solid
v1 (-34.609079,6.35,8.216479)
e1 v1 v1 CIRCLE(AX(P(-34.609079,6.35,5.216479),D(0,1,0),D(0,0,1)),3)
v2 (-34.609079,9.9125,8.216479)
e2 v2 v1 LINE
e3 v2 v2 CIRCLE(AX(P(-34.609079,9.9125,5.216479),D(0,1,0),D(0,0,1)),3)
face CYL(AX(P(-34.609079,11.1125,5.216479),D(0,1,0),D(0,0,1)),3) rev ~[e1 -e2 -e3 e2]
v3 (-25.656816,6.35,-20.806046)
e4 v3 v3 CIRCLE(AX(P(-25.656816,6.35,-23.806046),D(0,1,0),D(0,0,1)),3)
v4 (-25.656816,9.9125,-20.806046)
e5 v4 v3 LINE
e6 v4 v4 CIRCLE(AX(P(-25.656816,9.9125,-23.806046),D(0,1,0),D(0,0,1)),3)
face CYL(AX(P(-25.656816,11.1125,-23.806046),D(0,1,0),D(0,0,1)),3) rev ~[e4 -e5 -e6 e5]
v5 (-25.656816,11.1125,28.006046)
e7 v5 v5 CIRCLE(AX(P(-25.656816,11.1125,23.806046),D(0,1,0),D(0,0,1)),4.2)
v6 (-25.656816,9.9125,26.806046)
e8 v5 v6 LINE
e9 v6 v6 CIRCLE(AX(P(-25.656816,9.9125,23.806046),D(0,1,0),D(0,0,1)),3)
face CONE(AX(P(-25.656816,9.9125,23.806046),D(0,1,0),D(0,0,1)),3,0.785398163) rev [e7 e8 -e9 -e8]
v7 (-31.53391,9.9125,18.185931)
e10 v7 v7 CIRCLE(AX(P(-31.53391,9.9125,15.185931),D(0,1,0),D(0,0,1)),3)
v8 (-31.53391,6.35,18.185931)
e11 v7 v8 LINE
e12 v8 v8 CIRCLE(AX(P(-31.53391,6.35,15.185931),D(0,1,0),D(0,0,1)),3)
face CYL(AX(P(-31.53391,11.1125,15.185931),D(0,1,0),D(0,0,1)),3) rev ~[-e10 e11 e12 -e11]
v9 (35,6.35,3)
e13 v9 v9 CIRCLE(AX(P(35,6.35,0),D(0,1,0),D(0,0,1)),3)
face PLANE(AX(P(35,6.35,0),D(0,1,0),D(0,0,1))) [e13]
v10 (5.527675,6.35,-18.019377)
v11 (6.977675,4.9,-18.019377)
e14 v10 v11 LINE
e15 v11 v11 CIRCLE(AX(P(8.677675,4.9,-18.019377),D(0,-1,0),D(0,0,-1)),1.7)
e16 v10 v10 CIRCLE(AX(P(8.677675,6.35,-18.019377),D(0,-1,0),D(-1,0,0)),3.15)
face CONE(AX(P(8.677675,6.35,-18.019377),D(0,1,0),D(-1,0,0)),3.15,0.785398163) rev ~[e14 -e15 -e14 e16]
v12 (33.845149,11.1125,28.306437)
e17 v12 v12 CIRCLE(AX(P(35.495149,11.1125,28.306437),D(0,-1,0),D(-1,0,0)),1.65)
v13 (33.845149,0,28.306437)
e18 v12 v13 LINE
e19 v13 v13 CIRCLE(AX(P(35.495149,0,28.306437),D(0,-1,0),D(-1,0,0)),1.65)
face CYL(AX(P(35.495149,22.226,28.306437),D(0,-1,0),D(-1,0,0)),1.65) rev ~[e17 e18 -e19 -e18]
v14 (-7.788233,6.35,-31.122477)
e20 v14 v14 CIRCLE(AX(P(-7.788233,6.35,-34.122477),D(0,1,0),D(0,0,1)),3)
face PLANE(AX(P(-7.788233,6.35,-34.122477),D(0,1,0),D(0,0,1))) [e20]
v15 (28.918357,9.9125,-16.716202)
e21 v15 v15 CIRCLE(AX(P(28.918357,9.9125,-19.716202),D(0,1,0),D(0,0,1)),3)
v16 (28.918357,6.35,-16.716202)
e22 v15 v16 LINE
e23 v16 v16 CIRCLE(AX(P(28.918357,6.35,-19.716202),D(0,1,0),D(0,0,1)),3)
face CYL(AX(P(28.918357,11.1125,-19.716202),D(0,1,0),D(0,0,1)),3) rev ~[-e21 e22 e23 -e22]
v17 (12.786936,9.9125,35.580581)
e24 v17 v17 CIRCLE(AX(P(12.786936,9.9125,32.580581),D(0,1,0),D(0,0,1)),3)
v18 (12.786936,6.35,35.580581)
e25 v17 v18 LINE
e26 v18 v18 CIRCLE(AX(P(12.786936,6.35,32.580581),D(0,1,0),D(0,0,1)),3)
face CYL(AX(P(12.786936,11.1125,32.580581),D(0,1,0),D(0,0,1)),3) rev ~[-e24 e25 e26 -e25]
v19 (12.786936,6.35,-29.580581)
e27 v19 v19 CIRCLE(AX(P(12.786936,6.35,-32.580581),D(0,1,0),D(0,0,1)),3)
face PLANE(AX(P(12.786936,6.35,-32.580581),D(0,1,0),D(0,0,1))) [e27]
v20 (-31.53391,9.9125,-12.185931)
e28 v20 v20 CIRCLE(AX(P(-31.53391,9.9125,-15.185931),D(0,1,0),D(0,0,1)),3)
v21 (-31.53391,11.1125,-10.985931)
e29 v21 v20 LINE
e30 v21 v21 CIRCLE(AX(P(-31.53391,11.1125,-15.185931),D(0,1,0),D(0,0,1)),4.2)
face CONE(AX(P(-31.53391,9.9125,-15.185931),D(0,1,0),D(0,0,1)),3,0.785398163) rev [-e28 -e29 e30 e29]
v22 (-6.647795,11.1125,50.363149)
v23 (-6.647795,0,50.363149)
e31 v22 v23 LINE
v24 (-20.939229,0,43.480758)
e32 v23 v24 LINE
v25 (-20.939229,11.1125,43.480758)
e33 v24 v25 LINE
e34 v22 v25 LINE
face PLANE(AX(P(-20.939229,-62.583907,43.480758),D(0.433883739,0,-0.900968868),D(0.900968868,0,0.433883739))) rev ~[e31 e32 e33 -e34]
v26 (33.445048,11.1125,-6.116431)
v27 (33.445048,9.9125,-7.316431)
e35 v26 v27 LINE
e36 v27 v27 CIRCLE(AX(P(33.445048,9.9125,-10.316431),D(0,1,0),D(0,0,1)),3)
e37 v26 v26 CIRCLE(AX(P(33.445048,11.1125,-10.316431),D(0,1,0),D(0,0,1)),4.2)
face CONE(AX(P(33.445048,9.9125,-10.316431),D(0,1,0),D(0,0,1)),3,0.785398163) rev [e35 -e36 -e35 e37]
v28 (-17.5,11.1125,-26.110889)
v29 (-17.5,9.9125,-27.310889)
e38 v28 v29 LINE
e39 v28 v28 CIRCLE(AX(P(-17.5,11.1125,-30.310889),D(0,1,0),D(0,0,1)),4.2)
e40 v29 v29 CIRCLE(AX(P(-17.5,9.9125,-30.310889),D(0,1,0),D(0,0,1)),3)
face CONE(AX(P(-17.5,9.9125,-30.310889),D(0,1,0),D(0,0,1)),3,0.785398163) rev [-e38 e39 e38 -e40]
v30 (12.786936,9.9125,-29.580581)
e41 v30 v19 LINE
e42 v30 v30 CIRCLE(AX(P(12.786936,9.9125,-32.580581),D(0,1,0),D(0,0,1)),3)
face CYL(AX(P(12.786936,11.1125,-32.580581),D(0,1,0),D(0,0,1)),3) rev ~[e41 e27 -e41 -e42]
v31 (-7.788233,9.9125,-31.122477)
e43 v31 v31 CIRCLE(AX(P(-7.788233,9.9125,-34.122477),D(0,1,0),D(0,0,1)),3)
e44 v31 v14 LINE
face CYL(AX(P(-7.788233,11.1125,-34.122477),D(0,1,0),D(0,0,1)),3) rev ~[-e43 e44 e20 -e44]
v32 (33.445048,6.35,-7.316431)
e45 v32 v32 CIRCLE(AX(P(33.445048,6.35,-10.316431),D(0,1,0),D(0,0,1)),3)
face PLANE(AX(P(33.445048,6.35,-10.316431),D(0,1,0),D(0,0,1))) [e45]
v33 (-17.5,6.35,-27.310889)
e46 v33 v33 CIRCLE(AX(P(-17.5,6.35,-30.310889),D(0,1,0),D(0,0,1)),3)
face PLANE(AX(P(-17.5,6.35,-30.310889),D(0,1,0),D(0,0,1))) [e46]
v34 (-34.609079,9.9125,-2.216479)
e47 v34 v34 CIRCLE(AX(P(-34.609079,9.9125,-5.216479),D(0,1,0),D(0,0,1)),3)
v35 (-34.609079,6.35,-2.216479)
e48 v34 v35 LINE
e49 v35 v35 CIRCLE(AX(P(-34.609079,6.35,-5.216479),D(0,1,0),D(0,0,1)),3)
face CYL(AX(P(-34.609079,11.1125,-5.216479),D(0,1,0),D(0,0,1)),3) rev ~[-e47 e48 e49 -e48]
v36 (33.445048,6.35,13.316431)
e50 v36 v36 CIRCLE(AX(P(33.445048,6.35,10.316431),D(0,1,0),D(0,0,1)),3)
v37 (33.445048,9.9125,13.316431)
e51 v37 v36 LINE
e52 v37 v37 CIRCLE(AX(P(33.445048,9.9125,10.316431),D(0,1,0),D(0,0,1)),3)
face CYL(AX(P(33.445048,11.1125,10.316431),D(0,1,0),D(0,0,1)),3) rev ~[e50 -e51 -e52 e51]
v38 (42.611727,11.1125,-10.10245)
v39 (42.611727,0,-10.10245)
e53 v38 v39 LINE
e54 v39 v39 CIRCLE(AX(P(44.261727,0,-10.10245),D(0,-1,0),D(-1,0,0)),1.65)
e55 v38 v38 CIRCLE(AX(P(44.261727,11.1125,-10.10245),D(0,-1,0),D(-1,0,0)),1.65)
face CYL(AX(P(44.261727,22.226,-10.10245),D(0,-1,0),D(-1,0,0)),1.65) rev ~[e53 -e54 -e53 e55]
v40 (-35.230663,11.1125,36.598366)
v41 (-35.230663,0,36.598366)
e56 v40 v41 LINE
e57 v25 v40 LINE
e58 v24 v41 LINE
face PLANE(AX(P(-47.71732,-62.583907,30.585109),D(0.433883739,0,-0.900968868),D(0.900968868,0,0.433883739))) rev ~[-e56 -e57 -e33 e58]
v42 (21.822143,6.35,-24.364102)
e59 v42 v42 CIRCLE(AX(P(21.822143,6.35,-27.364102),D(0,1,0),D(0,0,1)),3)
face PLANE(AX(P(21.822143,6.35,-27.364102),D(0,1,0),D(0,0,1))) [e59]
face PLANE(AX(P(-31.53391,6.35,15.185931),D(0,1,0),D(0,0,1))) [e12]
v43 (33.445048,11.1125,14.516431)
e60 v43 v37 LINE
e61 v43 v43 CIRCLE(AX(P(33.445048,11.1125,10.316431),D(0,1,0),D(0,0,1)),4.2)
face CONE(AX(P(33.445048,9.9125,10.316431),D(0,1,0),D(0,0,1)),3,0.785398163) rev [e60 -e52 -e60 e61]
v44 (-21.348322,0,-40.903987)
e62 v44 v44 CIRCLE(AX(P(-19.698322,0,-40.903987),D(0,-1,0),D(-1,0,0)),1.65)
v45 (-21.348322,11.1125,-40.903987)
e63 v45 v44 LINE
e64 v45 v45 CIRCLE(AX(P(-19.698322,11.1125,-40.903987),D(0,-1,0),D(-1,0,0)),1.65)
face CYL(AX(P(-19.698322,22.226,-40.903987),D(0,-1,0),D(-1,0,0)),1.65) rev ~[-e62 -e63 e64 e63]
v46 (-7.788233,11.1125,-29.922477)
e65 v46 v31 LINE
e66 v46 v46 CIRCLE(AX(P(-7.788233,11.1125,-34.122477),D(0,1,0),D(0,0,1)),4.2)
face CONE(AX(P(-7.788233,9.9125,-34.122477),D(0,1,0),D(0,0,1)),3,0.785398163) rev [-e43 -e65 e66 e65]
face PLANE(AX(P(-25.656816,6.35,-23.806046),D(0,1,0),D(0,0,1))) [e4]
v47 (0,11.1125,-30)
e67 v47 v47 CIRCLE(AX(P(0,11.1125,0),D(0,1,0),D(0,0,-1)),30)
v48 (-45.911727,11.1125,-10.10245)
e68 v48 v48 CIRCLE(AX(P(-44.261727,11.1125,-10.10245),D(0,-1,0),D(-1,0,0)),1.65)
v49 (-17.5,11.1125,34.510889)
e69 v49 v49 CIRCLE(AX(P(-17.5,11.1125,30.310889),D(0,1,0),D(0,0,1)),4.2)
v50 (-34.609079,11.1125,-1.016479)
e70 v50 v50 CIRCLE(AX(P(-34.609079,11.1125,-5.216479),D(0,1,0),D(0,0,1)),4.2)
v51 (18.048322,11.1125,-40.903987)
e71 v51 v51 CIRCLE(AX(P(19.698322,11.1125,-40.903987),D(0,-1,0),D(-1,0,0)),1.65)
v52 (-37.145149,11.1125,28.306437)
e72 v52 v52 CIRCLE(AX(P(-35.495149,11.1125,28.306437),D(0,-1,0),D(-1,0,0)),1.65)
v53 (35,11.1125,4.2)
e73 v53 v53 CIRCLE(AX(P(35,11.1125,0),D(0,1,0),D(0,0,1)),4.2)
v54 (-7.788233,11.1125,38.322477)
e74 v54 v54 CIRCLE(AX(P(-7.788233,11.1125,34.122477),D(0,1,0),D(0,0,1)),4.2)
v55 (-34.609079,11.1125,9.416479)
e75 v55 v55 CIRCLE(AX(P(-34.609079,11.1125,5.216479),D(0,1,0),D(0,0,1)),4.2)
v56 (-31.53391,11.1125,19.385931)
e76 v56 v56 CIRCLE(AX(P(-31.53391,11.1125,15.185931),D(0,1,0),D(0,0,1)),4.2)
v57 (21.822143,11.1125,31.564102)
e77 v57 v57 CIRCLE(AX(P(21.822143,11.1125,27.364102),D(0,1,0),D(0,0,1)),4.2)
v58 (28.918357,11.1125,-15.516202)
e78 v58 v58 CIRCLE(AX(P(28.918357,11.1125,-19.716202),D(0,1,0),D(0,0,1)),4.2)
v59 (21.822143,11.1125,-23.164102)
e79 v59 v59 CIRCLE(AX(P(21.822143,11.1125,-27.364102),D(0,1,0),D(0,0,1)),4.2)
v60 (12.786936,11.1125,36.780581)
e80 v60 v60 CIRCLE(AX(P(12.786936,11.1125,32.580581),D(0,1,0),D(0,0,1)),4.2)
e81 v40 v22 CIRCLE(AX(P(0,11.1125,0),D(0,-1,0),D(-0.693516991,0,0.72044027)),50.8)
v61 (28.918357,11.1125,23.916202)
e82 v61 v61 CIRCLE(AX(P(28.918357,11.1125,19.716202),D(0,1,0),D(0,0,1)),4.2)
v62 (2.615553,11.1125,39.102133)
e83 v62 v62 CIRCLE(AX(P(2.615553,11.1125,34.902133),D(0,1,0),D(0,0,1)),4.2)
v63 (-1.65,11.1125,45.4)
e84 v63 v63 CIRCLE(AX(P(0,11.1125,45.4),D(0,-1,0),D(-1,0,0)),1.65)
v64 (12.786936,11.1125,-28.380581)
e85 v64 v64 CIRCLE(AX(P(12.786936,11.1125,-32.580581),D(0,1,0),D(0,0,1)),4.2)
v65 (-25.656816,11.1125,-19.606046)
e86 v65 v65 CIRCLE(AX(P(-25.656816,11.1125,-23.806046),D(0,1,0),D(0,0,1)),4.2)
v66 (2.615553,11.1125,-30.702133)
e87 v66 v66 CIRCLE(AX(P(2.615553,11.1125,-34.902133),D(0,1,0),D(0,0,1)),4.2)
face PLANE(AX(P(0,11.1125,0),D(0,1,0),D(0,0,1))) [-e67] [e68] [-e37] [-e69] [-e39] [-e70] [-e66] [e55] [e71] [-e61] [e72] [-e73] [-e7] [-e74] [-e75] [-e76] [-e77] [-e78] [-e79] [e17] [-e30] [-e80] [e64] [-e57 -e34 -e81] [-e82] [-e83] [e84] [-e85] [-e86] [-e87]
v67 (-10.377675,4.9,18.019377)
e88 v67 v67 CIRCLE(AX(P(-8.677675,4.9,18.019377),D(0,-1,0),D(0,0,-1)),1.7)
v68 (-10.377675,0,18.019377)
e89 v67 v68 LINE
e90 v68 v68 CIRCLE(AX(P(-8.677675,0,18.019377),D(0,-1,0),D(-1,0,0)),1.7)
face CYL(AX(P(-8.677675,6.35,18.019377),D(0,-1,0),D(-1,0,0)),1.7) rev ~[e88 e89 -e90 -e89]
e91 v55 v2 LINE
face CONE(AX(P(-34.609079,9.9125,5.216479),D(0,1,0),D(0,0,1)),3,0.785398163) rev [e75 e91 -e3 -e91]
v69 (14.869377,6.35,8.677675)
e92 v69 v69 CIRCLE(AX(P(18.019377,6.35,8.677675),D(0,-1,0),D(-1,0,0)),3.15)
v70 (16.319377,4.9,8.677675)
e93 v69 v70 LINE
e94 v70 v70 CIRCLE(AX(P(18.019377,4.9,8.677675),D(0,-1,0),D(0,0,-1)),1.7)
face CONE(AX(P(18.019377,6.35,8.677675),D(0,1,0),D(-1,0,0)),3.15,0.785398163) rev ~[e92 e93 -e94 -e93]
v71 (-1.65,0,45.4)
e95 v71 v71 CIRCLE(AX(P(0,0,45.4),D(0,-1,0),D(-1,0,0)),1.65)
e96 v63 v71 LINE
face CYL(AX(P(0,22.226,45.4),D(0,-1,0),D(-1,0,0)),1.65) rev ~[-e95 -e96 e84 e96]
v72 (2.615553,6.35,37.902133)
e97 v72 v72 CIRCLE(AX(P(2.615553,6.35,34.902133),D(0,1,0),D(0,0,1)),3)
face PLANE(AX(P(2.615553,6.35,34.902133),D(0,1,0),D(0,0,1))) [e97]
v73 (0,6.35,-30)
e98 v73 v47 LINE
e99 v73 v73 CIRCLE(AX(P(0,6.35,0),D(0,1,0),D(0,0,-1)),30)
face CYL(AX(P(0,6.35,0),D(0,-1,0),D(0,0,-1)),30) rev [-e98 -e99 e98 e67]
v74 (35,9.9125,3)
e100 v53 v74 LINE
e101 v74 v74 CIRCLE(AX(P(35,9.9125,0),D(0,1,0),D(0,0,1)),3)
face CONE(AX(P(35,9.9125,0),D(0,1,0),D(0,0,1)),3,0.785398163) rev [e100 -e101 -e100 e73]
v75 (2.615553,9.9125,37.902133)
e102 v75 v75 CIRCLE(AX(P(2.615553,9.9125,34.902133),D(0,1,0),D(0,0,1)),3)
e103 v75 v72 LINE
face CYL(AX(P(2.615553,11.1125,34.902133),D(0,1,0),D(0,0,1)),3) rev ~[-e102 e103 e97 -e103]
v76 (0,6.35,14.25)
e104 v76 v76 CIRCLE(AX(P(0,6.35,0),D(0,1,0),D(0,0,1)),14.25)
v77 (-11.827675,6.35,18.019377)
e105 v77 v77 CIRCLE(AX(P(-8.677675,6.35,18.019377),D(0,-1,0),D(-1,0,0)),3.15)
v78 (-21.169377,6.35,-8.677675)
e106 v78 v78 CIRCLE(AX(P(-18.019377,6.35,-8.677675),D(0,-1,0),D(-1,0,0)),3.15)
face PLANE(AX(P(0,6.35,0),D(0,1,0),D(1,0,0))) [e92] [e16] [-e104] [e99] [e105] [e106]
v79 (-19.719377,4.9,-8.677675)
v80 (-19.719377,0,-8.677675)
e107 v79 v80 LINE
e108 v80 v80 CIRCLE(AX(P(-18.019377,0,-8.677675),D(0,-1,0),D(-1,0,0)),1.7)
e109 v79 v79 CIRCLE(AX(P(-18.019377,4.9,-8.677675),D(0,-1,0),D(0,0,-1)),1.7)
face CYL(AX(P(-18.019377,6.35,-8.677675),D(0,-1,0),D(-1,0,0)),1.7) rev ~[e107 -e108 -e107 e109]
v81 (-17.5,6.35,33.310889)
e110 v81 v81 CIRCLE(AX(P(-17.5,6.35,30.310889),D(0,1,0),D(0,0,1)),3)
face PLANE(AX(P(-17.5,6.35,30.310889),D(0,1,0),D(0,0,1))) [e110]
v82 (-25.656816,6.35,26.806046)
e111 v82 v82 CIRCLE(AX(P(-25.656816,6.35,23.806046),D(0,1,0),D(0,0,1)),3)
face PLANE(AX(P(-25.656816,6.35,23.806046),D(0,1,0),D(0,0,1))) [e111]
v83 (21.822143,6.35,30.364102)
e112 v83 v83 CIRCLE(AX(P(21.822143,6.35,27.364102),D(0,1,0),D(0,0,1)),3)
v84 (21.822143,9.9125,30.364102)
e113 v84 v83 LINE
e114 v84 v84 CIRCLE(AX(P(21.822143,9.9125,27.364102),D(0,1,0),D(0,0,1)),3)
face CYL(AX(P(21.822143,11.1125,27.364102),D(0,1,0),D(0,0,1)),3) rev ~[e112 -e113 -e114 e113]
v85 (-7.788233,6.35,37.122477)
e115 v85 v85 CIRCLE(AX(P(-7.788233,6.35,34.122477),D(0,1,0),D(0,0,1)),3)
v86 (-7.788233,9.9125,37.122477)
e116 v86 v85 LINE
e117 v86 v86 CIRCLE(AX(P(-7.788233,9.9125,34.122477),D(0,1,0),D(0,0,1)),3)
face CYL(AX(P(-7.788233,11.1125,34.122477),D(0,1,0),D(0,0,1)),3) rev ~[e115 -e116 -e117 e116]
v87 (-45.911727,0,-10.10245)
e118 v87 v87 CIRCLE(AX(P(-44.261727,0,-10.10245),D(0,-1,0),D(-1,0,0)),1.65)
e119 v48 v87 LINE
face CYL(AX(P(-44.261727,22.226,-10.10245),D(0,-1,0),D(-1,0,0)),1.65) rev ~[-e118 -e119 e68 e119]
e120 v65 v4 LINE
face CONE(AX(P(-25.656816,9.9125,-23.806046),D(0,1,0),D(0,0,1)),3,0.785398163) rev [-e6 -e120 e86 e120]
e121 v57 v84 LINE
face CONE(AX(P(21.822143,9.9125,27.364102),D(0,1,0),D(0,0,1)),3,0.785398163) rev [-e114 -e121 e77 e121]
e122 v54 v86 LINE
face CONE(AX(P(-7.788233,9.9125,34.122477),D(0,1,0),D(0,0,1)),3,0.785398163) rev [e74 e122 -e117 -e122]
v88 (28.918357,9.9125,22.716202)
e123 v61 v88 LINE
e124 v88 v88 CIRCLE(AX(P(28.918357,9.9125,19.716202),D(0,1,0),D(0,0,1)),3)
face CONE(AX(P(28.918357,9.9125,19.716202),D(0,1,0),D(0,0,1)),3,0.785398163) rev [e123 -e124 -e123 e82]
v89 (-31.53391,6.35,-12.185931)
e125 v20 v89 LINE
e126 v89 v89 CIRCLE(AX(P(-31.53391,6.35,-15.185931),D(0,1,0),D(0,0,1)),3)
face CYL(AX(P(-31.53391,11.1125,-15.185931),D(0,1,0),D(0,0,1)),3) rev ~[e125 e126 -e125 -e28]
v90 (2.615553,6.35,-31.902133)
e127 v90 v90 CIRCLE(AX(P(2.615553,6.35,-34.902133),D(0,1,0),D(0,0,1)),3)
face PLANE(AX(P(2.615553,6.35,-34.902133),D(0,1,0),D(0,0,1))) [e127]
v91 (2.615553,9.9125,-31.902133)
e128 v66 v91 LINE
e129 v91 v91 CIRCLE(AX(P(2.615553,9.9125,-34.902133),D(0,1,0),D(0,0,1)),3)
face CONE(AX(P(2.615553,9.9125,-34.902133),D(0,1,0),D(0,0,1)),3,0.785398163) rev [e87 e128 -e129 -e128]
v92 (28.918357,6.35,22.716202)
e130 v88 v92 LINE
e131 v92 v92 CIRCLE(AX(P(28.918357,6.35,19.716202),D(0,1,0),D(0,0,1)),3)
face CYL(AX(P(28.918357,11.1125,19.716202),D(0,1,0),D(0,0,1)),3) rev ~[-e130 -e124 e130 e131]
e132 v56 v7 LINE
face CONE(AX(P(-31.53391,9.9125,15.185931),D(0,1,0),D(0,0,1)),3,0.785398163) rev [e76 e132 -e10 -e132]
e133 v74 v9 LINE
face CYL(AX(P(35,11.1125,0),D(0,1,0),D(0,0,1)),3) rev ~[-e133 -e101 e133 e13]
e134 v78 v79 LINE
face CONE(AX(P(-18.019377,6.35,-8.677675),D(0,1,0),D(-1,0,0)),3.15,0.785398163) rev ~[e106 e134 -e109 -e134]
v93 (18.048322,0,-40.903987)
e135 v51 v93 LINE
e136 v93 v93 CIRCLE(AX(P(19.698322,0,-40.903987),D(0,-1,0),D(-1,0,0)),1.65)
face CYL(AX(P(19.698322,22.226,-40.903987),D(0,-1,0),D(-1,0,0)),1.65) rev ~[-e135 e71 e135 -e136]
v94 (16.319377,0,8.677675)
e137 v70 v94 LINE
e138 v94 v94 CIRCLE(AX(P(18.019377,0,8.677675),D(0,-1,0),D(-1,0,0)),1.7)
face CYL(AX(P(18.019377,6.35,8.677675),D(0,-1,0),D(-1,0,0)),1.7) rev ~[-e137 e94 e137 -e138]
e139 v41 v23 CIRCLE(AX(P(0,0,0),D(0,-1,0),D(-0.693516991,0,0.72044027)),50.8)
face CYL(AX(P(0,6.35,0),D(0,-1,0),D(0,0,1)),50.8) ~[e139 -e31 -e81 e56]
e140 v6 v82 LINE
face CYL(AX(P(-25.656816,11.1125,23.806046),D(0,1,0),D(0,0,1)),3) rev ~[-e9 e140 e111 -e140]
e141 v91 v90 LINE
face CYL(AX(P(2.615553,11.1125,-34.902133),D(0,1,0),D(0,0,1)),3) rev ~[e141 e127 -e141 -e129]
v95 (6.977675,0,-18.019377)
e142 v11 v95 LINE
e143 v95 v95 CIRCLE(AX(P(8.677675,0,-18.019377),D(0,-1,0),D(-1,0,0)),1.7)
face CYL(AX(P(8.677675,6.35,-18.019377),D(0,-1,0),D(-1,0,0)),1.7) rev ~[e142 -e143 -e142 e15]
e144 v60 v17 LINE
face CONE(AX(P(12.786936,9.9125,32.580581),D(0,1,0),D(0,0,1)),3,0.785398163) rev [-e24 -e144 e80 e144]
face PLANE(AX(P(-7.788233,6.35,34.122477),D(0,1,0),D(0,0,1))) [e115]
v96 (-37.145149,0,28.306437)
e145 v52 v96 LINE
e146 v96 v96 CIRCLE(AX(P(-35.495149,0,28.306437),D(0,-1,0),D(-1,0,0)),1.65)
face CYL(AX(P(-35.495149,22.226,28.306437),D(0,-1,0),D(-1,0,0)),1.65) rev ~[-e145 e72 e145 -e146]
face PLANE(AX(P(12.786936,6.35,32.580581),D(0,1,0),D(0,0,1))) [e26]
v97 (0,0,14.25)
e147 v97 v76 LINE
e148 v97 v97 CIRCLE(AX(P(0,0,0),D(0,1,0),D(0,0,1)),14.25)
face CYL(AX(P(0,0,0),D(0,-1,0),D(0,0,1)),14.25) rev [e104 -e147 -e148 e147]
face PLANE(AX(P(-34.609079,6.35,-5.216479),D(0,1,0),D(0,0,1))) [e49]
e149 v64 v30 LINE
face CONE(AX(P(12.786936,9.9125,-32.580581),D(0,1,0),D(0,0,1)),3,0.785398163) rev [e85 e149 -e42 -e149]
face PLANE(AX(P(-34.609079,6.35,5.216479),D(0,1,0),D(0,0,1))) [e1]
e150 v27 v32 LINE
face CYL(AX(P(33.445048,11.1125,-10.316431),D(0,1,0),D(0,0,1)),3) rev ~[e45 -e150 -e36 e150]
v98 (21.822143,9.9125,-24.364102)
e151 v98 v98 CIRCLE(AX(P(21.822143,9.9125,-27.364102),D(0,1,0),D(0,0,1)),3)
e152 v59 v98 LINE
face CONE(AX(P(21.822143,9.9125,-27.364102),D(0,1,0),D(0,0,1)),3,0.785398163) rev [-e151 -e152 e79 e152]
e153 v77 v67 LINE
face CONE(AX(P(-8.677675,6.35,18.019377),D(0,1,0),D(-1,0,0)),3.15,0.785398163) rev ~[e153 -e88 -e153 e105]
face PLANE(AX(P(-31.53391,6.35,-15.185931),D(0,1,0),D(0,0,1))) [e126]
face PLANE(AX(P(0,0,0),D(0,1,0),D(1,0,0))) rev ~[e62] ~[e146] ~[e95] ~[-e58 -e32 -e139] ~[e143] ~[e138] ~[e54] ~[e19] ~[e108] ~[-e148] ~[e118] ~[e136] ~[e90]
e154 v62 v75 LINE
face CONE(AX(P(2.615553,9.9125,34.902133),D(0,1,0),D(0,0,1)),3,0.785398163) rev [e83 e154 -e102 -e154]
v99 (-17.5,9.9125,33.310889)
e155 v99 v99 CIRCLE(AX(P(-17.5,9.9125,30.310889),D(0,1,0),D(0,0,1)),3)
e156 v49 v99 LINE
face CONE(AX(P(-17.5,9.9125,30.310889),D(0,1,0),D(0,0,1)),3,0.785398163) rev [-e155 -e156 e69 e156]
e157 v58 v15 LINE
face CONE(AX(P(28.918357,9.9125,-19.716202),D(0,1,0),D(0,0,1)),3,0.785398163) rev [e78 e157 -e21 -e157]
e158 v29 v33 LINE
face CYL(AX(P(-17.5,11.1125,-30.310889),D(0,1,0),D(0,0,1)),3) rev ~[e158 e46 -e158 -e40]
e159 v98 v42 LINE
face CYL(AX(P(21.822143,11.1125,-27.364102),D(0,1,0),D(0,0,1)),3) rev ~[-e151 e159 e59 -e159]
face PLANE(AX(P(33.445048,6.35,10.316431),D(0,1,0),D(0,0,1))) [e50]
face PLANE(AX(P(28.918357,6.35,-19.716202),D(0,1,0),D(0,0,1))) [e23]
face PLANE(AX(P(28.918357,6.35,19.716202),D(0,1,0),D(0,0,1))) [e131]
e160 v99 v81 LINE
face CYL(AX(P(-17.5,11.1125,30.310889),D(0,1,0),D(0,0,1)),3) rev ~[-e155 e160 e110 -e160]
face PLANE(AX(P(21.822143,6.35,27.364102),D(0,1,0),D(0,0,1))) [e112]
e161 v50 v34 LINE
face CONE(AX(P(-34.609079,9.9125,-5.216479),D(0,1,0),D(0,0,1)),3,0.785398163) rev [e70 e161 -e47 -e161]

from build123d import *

# Parameters (mm, degrees)
SKETCH1_R                                       = 50.8
SKETCH1_R_2                                     = 19.25
BOSS_EXTRUDE1_DEPTH                             = 6.35
SKETCH2_R                                       = 50.8
SKETCH2_R_2                                     = 30
BOSS_EXTRUDE2_DEPTH                             = 4.7625
SKETCH3_R                                       = 3
CUT_EXTRUDE1_DEPTH                              = 4.7625
CHAMFER1_SIZE                                   = 1.2
M4X0_7_TAPPED_HOLE1_D                           = 3.3
M4X0_7_TAPPED_HOLE1_DEPTH                       = 11.1135
BOSS_EXTRUDE3_START                             = -6.35
SKETCH13_R                                      = 19.25
SKETCH13_R_2                                    = 14.25
BOSS_EXTRUDE3_DEPTH                             = 6.35
CSK_FOR_M3_FLAT_HEAD_MACHINE_SCREW1_D           = 3.4
CSK_FOR_M3_FLAT_HEAD_MACHINE_SCREW1_CSINK_D     = 6.3
CSK_FOR_M3_FLAT_HEAD_MACHINE_SCREW1_CSINK_ANGLE = 90
CUT_EXTRUDE4_DEPTH                              = 73.696407451
CUT_EXTRUDE4_DEPTH_BACK                         = 73.696407451


with BuildPart() as part:
    # Sketch1 → Boss-Extrude1 (new body)
    with BuildSketch(Plane(origin=(0, 0, 0), x_dir=(1, 0, 0), z_dir=(0, 1, 0))):
        with Locations(Location((0, 0, 0), (0, 0, 270))):
            Circle(SKETCH1_R)
        with Locations(Location((0, 0, 0), (0, 0, 270))):
            Circle(SKETCH1_R_2, mode=Mode.SUBTRACT)
    extrude(amount=BOSS_EXTRUDE1_DEPTH)

    # Sketch2 → Boss-Extrude2 (add)
    with BuildSketch(Plane(origin=(0, 6.35, 0), x_dir=(1, 0, 0), z_dir=(0, 1, 0))):
        with Locations(Location((0, 0, 0), (0, 0, 270))):
            Circle(SKETCH2_R)
        with Locations(Location((0, 0, 0), (0, 0, 90))):
            Circle(SKETCH2_R_2, mode=Mode.SUBTRACT)
    extrude(amount=BOSS_EXTRUDE2_DEPTH)

    # Sketch3 → Cut-Extrude1 (cut)
    with BuildSketch(Plane(origin=(0, 11.1125, 0), x_dir=(1, 0, 0), z_dir=(0, 1, 0))):
        with Locations(Location((35, 0, 0), (0, 0, 270))):
            Circle(SKETCH3_R)
        with Locations(Location((33.445048203, -10.316431104, 0), (0, 0, 270))):
            Circle(SKETCH3_R)
        with Locations(Location((28.918357101, -19.716202032, 0), (0, 0, 270))):
            Circle(SKETCH3_R)
        with Locations(Location((21.822143065, -27.364101886, 0), (0, 0, 270))):
            Circle(SKETCH3_R)
        with Locations(Location((12.786935853, -32.580581203, 0), (0, 0, 270))):
            Circle(SKETCH3_R)
        with Locations(Location((2.615553276, -34.902132901, 0), (0, 0, 270))):
            Circle(SKETCH3_R)
        with Locations(Location((-7.788232688, -34.122476926, 0), (0, 0, 270))):
            Circle(SKETCH3_R)
        with Locations(Location((-17.5, -30.310889132, 0), (0, 0, 270))):
            Circle(SKETCH3_R)
        with Locations(Location((-25.656815514, -23.806045822, 0), (0, 0, 270))):
            Circle(SKETCH3_R)
        with Locations(Location((-31.533910377, -15.185930869, 0), (0, 0, 270))):
            Circle(SKETCH3_R)
        with Locations(Location((-34.609078918, -5.216479316, 0), (0, 0, 270))):
            Circle(SKETCH3_R)
        with Locations(Location((-34.609078918, 5.216479316, 0), (0, 0, 270))):
            Circle(SKETCH3_R)
        with Locations(Location((-31.533910377, 15.185930869, 0), (0, 0, 270))):
            Circle(SKETCH3_R)
        with Locations(Location((-25.656815514, 23.806045822, 0), (0, 0, 270))):
            Circle(SKETCH3_R)
        with Locations(Location((-17.5, 30.310889132, 0), (0, 0, 270))):
            Circle(SKETCH3_R)
        with Locations(Location((-7.788232688, 34.122476926, 0), (0, 0, 270))):
            Circle(SKETCH3_R)
        with Locations(Location((2.615553276, 34.902132901, 0), (0, 0, 270))):
            Circle(SKETCH3_R)
        with Locations(Location((12.786935853, 32.580581203, 0), (0, 0, 270))):
            Circle(SKETCH3_R)
        with Locations(Location((21.822143065, 27.364101886, 0), (0, 0, 270))):
            Circle(SKETCH3_R)
        with Locations(Location((28.918357101, 19.716202032, 0), (0, 0, 270))):
            Circle(SKETCH3_R)
        with Locations(Location((33.445048203, 10.316431104, 0), (0, 0, 270))):
            Circle(SKETCH3_R)
    extrude(amount=-CUT_EXTRUDE1_DEPTH, mode=Mode.SUBTRACT)

    # Chamfer1
    chamfer1_edges = [part.edges().sort_by_distance(p)[0] for p in [
        (2.615553276, 11.1125, 31.902132901),
        (12.786935853, 11.1125, 29.580581203),
        (21.822143065, 11.1125, 24.364101886),
        (28.918357101, 11.1125, 16.716202032),
        (33.445048203, 11.1125, 7.316431104),
        (35, 11.1125, -3),
        (33.445048203, 11.1125, -13.316431104),
        (28.918357101, 11.1125, -22.716202032),
        (21.822143065, 11.1125, -30.364101886),
        (12.786935853, 11.1125, -35.580581203),
        (2.615553276, 11.1125, -37.902132901),
        (-7.788232688, 11.1125, -37.122476926),
        (-17.5, 11.1125, -33.310889132),
        (-25.656815514, 11.1125, -26.806045822),
        (-31.533910377, 11.1125, -18.185930869),
        (-34.609078918, 11.1125, -8.216479316),
        (-7.788232688, 11.1125, 31.122476926),
        (-17.5, 11.1125, 27.310889132),
        (-25.656815514, 11.1125, 20.806045822),
        (-31.533910377, 11.1125, 12.185930869),
        (-34.609078918, 11.1125, 2.216479316),
    ]]
    chamfer(chamfer1_edges, length=CHAMFER1_SIZE)

    # M4x0.7 Tapped Hole1
    with Locations(Plane(origin=(0, 11.1125, 0), x_dir=(1, 0, 0), z_dir=(0, 1, 0))):
        with Locations((0, -45.4), (0, 0), (-19.698321756, 40.903986603), (19.698321756, 40.903986603), (44.261727213, 10.102450402), (35.495149304, -28.306437004), (-35.495149304, -28.306437004), (-44.261727213, 10.102450402)):
            Hole(M4X0_7_TAPPED_HOLE1_D / 2, depth=M4X0_7_TAPPED_HOLE1_DEPTH)

    # Sketch13 → Boss-Extrude3 (add)
    with BuildSketch(Plane(origin=(0, 6.35, 0), x_dir=(1, 0, 0), z_dir=(0, 1, 0)).offset(BOSS_EXTRUDE3_START)):
        Circle(SKETCH13_R)
        with Locations(Location((0, 0, 0), (0, 0, 270))):
            Circle(SKETCH13_R_2, mode=Mode.SUBTRACT)
    extrude(amount=BOSS_EXTRUDE3_DEPTH)

    # CSK for M3 Flat Head Machine Screw1 (through all)
    with Locations(Plane(origin=(0, 6.35, 0), x_dir=(1, 0, 0), z_dir=(0, 1, 0))):
        with Locations((8.677674782, 18.019377358), (-18.019377358, 8.677674782), (18.019377358, -8.677674782), (-8.677674782, -18.019377358)):
            CounterSinkHole(CSK_FOR_M3_FLAT_HEAD_MACHINE_SCREW1_D / 2, CSK_FOR_M3_FLAT_HEAD_MACHINE_SCREW1_CSINK_D / 2, counter_sink_angle=CSK_FOR_M3_FLAT_HEAD_MACHINE_SCREW1_CSINK_ANGLE)

    # Sketch16 → Cut-Extrude4 (cut, two sides: drawn at the far end of the back side and taken through both)
    with BuildSketch(Plane(origin=(0, 11.1125, 0), x_dir=(1, 0, 0), z_dir=(0, 1, 0)).offset(-CUT_EXTRUDE4_DEPTH_BACK)):
        Polygon((-20.93922925, -43.480757565), (12.568971471, -59.617456554), (3.715578601, -78.001716282), (-56.57071251, -48.969368621), (-47.717319639, -30.585108893), align=None)
    extrude(amount=CUT_EXTRUDE4_DEPTH + CUT_EXTRUDE4_DEPTH_BACK, mode=Mode.SUBTRACT)


solid = part.part
